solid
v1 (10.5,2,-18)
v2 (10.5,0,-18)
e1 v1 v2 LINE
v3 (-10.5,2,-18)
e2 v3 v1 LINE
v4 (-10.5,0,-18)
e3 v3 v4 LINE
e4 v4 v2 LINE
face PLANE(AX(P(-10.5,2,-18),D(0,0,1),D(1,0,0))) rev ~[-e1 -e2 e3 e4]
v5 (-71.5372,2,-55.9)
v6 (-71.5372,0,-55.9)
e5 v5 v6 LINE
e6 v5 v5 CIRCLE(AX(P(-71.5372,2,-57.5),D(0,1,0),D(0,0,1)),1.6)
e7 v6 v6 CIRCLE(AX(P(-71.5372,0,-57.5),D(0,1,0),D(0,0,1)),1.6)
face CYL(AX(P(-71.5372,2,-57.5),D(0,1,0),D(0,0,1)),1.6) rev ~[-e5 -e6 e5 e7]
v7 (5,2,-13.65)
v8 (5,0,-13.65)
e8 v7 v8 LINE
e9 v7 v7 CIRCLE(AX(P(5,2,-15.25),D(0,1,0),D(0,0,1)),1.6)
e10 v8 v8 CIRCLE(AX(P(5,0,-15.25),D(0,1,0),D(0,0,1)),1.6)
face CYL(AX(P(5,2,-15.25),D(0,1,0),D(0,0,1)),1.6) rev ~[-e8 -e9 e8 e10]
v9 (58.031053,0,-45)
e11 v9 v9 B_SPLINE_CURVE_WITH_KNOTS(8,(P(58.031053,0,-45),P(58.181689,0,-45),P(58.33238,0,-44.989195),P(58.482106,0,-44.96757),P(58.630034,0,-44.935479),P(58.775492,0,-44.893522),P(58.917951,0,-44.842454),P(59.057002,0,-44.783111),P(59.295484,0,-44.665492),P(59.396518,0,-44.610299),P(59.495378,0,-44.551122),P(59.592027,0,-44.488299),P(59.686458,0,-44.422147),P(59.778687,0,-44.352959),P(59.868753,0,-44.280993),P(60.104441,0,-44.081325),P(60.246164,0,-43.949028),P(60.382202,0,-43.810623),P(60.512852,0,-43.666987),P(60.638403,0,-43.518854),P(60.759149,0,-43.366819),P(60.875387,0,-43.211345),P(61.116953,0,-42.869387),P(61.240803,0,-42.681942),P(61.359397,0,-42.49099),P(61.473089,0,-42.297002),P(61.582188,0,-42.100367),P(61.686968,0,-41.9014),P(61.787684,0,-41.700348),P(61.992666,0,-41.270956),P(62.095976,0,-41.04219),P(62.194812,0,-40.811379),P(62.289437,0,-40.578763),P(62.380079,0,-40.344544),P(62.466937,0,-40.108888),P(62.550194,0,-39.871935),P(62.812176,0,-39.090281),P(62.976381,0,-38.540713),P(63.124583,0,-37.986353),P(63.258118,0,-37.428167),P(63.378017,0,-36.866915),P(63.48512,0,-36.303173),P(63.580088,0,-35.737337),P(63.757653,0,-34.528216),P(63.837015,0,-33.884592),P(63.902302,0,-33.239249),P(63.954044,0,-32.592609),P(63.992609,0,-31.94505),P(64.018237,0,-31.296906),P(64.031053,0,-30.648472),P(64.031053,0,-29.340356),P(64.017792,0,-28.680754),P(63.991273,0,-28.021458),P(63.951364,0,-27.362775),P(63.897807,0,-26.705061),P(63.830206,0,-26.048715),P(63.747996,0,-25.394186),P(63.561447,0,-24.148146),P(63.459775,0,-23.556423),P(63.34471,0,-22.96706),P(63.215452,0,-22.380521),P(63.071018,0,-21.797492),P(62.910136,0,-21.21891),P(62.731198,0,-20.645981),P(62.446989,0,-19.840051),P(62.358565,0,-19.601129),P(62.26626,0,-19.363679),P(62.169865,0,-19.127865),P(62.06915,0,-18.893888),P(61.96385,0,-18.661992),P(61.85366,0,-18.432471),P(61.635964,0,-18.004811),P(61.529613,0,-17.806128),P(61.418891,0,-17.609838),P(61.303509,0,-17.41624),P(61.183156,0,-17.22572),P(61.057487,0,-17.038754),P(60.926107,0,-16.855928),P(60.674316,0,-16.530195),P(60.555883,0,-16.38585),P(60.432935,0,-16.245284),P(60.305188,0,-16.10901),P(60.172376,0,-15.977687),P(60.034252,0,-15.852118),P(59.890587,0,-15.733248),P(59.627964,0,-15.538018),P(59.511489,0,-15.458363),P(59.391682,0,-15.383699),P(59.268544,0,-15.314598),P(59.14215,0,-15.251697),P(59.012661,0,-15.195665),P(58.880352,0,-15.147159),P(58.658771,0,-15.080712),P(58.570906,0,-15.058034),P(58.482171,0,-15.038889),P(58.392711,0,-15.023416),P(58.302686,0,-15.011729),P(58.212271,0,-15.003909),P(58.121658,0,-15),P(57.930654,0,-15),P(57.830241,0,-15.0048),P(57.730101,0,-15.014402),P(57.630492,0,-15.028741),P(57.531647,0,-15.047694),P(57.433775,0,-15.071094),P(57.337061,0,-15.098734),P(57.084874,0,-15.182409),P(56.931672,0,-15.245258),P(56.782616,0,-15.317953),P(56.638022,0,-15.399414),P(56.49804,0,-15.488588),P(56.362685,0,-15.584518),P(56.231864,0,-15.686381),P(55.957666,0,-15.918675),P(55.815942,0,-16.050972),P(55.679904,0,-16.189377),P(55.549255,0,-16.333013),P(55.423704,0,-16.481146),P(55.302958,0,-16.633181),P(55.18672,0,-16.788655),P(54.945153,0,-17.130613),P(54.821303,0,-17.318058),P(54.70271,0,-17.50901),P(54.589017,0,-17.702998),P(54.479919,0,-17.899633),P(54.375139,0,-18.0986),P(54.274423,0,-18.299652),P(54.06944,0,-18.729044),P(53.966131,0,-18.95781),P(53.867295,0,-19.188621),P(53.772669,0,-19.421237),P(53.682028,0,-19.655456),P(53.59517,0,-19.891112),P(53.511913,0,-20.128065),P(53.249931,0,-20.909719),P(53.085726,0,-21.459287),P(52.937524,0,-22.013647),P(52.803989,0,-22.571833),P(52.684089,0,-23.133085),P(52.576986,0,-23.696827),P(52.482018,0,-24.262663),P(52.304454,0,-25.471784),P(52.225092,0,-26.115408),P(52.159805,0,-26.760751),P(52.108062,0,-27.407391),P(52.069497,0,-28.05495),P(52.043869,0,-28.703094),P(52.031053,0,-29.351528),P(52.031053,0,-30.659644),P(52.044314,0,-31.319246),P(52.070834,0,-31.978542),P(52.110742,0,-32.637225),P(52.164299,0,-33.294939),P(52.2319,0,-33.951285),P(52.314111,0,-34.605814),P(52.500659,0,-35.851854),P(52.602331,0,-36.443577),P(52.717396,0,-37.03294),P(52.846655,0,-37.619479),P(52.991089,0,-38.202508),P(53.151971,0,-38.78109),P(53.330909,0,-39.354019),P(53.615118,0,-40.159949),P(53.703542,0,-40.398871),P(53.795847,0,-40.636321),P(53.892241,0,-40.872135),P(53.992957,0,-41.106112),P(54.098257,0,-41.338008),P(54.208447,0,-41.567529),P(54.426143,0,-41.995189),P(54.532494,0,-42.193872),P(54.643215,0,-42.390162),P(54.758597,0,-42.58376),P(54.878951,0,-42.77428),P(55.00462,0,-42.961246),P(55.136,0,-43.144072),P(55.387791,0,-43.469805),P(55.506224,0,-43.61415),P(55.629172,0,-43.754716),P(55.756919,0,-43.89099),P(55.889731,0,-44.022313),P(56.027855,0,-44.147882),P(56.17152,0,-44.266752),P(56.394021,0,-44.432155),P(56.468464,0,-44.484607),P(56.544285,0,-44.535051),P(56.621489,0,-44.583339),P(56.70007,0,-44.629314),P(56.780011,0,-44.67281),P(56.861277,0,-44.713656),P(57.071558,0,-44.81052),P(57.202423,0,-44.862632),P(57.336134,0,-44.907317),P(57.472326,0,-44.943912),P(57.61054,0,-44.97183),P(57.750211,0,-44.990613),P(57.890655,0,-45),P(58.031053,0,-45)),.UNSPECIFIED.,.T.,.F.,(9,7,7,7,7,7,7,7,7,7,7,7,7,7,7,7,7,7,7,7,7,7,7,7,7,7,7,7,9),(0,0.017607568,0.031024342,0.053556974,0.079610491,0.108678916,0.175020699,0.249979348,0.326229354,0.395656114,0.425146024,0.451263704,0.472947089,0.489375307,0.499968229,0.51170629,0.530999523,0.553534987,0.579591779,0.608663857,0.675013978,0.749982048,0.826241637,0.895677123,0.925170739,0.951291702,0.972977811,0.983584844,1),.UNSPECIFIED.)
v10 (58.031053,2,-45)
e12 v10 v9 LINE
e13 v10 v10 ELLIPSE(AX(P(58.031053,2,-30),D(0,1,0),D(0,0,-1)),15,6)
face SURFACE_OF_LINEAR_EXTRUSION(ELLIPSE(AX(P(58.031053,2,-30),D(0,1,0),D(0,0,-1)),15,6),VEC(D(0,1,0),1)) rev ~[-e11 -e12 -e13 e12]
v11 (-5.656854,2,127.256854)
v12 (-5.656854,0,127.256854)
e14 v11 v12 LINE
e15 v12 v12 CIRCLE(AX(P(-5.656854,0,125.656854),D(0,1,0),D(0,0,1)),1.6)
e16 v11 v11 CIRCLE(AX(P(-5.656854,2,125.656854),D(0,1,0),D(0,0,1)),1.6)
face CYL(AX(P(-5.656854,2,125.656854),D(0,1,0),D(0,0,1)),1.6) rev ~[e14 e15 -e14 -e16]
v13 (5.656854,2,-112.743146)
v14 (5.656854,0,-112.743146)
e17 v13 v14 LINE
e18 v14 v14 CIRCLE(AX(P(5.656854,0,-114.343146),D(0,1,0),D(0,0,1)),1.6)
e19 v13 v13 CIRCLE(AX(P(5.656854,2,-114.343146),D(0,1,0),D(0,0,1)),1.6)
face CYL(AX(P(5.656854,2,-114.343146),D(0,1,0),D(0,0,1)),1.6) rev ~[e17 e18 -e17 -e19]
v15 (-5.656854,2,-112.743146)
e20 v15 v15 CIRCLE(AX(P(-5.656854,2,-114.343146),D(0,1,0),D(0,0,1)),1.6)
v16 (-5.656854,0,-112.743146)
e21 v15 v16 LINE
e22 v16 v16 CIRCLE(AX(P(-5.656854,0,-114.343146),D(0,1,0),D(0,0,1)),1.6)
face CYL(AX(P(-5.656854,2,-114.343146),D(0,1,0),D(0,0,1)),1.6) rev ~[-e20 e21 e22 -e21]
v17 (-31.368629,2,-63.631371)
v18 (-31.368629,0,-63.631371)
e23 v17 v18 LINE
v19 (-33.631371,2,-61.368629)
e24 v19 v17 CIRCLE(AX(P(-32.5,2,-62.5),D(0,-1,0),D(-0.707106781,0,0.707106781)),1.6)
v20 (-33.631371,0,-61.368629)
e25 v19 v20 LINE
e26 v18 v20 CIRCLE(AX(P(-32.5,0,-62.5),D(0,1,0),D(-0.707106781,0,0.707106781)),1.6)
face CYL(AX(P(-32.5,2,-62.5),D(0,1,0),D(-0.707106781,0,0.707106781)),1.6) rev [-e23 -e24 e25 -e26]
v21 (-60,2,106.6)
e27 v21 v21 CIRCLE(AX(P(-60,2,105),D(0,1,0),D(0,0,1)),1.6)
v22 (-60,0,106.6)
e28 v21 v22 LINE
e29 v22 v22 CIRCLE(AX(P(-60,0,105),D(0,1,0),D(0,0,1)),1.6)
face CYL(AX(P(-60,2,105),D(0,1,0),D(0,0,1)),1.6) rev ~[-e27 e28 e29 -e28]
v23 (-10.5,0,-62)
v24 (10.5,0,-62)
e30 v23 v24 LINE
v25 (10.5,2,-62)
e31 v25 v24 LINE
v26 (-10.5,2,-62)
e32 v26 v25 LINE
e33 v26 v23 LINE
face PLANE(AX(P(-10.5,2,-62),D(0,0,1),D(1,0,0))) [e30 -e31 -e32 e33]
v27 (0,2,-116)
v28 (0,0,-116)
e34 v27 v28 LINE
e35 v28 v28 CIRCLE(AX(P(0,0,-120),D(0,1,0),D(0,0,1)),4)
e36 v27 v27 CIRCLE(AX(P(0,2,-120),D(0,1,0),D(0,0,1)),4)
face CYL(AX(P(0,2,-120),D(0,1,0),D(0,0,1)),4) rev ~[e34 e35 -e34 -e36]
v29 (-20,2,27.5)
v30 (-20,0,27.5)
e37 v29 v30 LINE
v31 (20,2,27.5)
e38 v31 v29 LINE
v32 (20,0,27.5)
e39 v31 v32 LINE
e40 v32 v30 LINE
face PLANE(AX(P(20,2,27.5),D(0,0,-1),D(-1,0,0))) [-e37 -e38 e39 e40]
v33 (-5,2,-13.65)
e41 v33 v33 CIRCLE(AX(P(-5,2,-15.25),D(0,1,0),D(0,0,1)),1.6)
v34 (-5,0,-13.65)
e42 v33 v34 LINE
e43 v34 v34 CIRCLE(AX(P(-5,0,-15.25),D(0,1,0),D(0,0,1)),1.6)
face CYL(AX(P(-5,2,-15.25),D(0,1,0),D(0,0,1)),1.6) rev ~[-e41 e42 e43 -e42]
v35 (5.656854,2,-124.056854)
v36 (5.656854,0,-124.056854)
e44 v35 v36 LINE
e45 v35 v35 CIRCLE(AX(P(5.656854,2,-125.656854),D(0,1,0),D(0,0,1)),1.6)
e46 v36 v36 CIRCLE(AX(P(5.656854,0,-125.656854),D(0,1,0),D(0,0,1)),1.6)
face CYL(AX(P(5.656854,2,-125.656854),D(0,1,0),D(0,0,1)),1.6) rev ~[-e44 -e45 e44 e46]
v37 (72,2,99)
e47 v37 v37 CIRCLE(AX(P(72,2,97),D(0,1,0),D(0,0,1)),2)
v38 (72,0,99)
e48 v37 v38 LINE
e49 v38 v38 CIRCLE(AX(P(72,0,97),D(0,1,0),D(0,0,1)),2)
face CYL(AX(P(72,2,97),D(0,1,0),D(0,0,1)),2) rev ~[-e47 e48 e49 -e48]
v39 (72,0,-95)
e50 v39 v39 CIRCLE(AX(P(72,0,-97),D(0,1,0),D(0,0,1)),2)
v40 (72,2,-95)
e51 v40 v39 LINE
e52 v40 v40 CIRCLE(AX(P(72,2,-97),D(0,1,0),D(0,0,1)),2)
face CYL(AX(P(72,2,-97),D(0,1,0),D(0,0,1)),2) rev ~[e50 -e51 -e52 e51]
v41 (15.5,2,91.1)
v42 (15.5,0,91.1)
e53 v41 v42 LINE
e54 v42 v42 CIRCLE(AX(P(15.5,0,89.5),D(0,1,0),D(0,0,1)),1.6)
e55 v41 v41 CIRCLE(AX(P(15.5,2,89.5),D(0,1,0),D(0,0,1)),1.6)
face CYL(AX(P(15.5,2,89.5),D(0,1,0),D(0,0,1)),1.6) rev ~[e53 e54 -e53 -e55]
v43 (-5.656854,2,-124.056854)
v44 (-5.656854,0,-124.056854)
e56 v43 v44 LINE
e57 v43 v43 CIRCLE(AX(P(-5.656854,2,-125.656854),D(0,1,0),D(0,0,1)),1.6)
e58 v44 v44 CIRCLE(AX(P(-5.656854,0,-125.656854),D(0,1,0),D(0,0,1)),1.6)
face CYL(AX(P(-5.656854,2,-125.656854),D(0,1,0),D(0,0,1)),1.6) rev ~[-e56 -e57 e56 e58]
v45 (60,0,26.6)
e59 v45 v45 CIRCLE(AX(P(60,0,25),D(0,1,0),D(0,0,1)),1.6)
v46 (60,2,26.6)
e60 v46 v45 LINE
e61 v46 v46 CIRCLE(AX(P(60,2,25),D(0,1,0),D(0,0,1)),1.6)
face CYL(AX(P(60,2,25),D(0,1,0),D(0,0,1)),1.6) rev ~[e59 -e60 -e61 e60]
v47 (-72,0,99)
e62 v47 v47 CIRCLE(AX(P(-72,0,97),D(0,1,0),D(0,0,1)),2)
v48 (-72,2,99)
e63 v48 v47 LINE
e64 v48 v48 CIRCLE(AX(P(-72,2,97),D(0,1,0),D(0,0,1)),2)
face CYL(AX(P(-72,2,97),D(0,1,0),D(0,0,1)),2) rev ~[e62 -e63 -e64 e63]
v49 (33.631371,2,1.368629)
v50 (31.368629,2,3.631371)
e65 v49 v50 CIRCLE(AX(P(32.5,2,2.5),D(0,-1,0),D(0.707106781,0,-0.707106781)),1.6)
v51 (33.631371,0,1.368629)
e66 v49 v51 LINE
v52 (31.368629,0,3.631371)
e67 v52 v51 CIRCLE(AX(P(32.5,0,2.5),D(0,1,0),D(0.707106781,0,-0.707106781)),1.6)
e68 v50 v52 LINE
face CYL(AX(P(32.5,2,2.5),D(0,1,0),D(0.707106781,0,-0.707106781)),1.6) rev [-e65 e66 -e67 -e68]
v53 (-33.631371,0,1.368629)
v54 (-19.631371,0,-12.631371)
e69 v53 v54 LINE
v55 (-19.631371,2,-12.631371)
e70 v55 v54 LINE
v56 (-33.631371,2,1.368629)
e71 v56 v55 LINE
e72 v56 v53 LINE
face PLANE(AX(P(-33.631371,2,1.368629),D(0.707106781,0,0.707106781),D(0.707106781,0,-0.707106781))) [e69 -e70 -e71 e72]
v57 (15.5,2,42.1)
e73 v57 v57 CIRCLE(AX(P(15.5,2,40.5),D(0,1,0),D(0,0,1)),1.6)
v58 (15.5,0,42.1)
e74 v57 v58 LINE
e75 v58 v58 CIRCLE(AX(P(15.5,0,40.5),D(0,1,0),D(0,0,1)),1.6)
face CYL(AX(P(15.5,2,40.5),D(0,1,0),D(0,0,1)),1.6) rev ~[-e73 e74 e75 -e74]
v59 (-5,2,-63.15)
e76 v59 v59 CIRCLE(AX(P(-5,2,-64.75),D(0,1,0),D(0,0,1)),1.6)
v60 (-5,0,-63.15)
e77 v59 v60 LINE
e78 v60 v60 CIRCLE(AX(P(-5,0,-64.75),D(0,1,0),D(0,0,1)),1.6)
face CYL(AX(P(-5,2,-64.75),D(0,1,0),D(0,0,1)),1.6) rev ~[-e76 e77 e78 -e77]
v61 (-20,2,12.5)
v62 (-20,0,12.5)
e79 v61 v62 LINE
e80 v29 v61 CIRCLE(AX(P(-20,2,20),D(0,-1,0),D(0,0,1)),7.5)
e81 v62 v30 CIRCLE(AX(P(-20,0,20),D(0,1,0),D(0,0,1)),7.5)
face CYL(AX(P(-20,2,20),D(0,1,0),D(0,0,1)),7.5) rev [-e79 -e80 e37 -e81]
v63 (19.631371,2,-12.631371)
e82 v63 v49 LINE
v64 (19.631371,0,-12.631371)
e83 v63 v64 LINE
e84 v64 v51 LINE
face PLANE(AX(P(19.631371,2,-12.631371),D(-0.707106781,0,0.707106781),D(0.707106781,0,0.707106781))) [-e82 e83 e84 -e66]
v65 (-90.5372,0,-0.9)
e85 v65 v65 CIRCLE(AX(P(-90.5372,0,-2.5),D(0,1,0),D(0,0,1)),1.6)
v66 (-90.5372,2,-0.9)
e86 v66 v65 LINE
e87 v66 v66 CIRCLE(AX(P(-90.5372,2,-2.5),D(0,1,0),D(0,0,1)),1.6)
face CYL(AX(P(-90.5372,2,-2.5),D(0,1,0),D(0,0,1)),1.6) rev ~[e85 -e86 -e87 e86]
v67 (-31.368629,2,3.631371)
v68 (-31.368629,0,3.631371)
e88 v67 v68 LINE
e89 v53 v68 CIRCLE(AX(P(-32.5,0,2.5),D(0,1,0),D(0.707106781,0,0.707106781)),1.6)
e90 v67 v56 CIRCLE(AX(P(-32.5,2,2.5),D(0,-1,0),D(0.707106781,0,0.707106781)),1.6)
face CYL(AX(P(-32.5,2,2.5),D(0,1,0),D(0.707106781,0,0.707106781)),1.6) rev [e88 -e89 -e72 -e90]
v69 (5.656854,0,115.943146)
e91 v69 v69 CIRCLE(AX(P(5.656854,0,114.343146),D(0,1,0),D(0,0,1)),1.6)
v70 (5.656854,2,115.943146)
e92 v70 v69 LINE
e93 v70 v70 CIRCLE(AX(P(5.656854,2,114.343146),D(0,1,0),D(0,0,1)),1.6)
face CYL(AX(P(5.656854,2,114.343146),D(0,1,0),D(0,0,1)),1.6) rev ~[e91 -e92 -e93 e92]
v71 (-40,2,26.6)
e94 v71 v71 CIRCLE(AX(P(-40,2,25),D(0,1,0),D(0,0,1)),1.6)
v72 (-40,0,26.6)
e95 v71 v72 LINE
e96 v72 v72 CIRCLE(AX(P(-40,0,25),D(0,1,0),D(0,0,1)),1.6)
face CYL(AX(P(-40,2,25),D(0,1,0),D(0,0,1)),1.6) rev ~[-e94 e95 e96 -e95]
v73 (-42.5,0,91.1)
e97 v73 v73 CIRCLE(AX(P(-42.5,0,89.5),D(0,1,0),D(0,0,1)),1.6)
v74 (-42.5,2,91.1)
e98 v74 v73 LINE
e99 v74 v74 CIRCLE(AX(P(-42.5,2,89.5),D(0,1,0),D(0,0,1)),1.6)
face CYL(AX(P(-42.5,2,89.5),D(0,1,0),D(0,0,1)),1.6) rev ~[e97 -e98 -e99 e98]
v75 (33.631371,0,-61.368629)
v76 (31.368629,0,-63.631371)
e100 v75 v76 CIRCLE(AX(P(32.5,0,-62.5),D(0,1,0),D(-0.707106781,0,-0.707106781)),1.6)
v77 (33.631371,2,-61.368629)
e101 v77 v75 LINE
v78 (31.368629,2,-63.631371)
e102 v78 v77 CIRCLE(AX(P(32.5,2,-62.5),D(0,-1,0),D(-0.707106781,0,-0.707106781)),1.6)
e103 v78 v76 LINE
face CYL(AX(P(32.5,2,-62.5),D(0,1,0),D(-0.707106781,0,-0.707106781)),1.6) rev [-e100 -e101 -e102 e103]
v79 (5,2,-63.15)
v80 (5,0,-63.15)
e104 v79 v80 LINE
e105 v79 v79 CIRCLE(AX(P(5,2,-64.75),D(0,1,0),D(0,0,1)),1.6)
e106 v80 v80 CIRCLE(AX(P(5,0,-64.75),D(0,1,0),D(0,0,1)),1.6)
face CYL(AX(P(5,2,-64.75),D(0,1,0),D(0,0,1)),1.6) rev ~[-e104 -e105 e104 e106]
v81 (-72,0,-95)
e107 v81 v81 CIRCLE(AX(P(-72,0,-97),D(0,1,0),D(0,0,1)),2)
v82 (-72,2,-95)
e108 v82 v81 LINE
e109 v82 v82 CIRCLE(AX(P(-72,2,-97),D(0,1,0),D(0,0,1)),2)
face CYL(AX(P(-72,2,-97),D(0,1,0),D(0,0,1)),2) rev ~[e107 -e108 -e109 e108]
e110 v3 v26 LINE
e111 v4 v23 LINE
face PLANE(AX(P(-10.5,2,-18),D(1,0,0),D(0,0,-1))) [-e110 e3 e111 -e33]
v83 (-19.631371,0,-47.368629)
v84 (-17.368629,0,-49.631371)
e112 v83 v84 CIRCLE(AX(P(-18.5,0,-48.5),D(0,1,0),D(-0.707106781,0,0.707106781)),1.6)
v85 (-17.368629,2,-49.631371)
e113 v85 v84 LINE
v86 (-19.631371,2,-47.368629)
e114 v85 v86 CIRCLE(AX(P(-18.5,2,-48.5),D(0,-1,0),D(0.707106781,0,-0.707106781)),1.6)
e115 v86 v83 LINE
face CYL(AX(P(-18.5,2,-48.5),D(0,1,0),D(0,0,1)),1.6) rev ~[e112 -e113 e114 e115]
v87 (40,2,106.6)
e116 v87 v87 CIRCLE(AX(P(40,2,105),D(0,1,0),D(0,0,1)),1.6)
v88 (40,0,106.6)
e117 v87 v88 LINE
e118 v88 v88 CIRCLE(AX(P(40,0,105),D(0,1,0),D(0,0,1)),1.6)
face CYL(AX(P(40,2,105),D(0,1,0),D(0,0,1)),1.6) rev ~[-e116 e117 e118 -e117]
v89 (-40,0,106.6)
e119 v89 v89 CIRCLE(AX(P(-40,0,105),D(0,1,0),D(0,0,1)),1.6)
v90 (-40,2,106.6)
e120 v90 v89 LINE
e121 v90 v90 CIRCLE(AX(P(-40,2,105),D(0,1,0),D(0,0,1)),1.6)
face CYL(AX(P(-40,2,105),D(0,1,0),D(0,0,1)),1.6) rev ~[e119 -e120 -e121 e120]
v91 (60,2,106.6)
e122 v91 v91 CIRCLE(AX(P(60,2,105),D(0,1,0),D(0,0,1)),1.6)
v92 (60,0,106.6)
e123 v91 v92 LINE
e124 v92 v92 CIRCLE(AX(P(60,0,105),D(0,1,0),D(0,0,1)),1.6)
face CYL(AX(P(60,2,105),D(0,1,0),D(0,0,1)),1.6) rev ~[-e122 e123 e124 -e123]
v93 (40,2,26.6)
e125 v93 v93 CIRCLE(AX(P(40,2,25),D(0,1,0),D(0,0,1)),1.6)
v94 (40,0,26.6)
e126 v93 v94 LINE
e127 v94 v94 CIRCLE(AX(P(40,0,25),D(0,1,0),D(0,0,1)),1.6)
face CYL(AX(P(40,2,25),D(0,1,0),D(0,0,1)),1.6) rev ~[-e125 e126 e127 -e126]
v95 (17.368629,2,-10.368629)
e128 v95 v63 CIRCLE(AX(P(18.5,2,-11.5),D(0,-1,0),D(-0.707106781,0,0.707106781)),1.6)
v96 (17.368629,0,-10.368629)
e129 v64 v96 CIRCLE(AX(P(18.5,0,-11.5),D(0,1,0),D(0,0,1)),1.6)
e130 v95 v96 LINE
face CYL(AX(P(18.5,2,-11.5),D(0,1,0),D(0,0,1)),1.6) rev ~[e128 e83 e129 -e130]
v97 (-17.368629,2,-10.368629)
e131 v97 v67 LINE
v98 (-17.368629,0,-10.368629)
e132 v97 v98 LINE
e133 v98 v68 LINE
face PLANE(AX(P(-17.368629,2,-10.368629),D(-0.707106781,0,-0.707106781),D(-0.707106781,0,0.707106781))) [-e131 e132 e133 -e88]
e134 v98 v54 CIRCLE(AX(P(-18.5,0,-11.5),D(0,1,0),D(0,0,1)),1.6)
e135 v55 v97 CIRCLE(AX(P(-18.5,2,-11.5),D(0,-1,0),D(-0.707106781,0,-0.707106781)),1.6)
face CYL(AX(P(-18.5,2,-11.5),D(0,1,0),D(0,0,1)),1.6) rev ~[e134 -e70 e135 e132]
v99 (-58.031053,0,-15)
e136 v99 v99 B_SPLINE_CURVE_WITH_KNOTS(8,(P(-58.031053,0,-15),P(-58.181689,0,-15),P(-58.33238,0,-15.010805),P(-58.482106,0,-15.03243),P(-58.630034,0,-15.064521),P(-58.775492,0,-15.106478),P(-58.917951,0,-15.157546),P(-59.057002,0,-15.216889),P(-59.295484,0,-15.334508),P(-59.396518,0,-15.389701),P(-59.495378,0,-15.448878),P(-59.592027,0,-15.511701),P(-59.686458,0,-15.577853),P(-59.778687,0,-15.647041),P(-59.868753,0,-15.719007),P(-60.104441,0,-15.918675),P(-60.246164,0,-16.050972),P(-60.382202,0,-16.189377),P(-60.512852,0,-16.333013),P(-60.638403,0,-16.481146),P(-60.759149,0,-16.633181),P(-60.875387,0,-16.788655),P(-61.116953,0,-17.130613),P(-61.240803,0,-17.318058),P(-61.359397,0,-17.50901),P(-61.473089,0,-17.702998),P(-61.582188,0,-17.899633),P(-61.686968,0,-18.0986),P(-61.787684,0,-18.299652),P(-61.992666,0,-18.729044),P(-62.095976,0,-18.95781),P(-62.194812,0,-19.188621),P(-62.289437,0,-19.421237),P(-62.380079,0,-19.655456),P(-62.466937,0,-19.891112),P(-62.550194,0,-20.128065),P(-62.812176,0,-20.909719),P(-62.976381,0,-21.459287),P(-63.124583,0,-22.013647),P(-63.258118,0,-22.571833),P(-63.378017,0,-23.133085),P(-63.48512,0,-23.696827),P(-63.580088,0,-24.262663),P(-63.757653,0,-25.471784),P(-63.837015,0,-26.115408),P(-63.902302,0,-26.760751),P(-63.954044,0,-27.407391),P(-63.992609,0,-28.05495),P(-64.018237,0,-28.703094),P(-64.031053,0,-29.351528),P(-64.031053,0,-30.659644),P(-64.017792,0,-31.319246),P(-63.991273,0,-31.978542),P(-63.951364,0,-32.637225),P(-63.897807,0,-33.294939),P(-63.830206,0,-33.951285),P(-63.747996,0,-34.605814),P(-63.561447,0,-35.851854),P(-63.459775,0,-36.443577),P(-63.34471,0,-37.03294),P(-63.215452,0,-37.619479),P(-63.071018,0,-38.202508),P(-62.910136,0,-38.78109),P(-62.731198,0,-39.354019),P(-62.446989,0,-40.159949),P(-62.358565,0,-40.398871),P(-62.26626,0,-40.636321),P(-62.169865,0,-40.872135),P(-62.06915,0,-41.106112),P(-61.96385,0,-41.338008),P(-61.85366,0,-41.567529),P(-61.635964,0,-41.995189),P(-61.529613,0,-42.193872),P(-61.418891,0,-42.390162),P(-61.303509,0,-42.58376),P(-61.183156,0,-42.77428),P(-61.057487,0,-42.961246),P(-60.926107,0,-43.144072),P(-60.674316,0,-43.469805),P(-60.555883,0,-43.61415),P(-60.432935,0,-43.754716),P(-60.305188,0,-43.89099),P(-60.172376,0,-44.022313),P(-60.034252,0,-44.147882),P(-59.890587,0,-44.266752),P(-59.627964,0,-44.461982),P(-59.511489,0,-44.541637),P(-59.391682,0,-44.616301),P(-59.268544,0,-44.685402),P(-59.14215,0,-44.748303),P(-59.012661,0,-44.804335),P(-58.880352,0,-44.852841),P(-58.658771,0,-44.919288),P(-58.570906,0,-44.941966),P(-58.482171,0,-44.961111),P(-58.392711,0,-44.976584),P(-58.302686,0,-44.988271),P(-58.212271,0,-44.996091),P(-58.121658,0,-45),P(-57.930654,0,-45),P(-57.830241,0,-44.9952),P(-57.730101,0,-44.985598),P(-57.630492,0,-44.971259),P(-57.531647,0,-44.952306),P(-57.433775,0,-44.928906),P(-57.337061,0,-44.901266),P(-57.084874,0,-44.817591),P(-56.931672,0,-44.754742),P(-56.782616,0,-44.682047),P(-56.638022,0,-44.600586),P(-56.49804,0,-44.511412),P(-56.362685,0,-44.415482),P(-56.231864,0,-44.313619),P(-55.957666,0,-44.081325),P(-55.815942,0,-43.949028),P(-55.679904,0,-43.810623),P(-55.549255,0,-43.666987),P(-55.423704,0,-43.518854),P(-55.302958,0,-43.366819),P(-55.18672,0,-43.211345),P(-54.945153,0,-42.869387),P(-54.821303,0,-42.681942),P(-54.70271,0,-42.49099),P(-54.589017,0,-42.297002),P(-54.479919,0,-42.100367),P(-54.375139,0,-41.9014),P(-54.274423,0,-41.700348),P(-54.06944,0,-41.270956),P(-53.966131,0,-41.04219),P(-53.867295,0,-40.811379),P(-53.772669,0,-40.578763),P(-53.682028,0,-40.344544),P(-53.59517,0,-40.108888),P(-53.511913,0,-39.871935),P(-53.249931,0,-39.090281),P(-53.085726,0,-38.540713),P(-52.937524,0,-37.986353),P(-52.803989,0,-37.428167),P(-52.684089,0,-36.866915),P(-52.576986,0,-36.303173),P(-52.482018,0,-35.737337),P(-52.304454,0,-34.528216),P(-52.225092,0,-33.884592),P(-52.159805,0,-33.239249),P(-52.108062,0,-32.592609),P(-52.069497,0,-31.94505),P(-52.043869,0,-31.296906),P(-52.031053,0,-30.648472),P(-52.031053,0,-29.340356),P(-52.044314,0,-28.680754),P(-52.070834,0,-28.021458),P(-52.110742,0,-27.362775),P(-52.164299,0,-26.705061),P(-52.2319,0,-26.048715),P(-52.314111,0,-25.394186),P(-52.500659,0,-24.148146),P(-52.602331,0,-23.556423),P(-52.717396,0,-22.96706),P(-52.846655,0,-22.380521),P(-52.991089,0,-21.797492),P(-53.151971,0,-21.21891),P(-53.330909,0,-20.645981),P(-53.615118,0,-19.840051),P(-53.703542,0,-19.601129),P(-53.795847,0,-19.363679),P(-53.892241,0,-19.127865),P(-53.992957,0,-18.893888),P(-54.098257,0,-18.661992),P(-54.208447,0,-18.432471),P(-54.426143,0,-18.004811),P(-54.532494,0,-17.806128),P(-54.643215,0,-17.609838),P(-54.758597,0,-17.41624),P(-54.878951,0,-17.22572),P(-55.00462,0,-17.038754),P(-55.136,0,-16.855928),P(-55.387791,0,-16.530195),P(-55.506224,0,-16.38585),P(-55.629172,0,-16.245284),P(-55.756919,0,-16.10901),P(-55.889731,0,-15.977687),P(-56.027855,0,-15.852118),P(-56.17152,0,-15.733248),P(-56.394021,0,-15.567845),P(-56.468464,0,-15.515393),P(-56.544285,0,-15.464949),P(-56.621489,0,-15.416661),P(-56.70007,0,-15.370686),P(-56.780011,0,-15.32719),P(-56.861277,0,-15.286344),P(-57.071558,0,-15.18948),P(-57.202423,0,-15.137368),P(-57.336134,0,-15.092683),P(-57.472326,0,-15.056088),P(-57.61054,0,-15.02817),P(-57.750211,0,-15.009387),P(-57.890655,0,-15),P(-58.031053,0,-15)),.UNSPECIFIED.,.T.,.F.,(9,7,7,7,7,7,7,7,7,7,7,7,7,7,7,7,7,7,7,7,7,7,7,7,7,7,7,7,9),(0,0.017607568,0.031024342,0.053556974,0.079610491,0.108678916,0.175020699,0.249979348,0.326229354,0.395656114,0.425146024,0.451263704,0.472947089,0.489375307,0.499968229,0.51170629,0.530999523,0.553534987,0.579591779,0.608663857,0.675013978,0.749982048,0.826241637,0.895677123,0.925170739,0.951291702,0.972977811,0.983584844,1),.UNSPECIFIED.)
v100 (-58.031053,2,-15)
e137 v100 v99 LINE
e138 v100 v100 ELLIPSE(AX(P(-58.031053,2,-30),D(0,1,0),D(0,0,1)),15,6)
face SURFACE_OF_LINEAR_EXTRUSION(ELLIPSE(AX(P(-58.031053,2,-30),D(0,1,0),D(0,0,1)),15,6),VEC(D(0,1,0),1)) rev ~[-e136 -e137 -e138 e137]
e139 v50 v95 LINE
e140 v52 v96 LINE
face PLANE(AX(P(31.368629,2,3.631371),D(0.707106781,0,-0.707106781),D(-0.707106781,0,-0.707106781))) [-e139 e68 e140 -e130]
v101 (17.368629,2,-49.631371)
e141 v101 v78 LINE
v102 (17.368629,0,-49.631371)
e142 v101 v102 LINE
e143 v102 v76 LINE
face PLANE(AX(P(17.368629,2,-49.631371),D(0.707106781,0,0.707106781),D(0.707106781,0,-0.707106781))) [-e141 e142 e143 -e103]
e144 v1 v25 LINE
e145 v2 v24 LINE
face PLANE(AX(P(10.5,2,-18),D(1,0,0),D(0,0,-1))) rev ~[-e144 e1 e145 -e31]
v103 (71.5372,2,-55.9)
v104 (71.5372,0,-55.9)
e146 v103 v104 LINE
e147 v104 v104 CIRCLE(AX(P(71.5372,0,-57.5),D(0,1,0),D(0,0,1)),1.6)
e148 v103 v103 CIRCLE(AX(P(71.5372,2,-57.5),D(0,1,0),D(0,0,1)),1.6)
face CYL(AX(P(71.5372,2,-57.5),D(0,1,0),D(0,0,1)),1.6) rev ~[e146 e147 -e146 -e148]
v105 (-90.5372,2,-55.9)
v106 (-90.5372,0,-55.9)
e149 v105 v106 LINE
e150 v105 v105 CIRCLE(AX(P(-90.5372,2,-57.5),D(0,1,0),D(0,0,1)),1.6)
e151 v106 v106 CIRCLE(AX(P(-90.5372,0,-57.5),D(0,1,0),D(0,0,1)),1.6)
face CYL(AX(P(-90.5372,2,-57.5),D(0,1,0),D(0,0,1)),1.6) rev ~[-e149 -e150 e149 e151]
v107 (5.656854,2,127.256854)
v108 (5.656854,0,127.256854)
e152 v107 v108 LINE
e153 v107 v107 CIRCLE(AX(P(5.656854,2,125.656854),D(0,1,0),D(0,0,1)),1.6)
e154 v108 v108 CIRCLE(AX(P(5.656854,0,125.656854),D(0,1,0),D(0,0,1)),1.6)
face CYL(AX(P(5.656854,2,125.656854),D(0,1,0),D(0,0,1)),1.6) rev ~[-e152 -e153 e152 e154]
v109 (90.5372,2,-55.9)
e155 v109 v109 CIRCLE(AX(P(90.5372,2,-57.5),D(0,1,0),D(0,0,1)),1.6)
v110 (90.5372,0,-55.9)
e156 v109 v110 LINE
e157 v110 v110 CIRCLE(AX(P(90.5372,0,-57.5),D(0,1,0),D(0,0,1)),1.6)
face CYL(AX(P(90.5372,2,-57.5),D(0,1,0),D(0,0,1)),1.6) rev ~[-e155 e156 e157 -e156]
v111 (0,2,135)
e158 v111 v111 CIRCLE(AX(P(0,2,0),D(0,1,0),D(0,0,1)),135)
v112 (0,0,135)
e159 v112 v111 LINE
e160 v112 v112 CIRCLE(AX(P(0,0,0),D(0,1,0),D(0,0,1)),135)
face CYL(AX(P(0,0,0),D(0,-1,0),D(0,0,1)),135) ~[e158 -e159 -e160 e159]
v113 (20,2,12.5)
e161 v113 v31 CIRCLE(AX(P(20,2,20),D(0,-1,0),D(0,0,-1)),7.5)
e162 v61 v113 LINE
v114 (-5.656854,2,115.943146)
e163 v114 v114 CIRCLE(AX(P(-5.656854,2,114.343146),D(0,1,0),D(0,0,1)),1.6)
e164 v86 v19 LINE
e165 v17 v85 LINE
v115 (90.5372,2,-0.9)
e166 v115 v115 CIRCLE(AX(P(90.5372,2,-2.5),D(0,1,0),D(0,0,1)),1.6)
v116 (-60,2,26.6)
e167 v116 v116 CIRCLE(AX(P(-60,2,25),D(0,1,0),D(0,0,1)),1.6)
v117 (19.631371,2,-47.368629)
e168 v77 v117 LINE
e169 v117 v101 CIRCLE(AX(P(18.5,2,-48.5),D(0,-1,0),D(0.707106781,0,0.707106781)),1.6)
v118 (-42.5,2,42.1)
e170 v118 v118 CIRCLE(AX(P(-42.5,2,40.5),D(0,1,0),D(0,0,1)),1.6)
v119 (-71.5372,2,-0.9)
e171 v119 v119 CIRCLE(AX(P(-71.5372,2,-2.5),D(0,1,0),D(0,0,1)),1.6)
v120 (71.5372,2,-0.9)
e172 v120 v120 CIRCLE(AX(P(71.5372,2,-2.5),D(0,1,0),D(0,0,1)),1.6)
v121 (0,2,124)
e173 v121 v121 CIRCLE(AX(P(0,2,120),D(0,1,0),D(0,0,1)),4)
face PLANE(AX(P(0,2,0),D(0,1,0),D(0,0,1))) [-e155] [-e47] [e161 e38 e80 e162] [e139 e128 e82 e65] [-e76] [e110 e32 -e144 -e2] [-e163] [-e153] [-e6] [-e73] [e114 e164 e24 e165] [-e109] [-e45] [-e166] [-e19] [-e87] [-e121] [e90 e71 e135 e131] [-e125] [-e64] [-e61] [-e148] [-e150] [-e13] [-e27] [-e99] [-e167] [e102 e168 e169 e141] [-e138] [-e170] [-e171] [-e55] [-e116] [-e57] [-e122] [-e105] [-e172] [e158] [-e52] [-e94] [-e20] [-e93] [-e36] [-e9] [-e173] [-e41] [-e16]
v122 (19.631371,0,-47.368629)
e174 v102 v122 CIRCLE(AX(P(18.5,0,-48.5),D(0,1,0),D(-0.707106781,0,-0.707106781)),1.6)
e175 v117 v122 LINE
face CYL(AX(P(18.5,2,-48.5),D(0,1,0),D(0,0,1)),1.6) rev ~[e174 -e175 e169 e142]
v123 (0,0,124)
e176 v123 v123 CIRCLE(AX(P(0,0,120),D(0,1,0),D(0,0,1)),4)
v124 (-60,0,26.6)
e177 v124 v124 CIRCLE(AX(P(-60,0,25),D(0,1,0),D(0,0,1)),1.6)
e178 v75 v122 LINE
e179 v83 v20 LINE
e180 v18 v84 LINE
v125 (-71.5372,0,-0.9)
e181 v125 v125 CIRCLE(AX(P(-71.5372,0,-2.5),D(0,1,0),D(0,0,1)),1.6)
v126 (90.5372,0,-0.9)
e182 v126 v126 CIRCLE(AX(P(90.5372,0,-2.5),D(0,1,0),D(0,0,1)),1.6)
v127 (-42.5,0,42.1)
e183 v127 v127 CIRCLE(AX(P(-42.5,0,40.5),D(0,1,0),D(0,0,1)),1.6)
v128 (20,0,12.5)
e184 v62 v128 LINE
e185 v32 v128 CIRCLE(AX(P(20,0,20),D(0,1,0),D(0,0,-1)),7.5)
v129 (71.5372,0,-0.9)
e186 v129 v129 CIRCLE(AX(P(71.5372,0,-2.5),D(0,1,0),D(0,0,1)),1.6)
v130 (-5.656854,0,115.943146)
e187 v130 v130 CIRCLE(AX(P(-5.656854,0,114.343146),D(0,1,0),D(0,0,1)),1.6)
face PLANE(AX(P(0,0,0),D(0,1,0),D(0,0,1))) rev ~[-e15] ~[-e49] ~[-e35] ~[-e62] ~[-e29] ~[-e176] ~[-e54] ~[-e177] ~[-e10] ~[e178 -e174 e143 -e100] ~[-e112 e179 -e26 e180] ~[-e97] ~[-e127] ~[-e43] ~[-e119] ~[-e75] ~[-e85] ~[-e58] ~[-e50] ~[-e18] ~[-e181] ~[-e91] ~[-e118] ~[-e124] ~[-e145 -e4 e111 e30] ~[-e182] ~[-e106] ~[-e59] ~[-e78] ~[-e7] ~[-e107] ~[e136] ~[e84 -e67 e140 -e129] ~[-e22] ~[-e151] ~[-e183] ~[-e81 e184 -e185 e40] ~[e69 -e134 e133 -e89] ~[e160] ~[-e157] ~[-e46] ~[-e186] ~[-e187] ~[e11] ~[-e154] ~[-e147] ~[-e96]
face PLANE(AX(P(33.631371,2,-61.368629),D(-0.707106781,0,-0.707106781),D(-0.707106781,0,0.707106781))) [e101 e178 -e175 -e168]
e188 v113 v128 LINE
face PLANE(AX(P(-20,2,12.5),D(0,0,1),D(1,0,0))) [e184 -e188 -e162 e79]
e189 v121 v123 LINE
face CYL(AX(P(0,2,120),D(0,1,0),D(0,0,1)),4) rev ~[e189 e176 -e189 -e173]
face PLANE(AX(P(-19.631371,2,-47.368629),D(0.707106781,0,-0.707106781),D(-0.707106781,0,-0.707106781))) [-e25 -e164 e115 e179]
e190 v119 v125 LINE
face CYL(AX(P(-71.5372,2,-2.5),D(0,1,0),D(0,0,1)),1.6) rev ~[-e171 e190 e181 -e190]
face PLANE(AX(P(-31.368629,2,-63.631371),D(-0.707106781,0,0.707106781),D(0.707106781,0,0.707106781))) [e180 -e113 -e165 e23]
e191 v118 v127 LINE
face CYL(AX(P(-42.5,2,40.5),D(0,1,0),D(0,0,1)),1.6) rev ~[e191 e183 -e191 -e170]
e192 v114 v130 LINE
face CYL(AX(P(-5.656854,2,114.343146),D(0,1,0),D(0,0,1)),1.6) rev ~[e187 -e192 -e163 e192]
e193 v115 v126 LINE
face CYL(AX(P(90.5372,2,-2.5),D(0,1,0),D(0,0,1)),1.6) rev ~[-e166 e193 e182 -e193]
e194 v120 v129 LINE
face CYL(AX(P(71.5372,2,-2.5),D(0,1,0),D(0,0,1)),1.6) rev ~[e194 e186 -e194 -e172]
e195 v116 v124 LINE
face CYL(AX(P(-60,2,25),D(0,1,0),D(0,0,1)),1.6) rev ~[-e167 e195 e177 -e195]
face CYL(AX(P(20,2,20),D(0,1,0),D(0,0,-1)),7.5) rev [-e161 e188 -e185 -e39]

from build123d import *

# Parameters (mm, degrees)
SKETCH_1_R          = 135
EXTRUDE_1_DEPTH     = 2
SKETCH_562_R        = 1.6
SKETCH_562_W        = 21
SKETCH_562_H        = 44
CUT_EXTRUDE_1_DEPTH = 10
SKETCH_1031_R       = 1.6
CUT_EXTRUDE_2_DEPTH = 10
SKETCH_4_R          = 2
SKETCH_4_R_2        = 4
SKETCH_4_R_3        = 1.6
CUT_EXTRUDE_3_DEPTH = 10
CUT_EXTRUDE_4_DEPTH = 10
SKETCH_6_R          = 1.6
SKETCH_6_RX         = 15
SKETCH_6_RY         = 6
CUT_EXTRUDE_7_DEPTH = 10


with BuildPart() as part:
    # 草图1 → 凸台-拉伸1 (new body)
    with BuildSketch(Plane(origin=(0, 0, 0), x_dir=(1, 0, 0), z_dir=(0, 1, 0))):
        with Locations(Location((0, 0, 0), (0, 0, 270))):
            Circle(SKETCH_1_R)
    extrude(amount=EXTRUDE_1_DEPTH)

    # Sketch 562 → 切除-拉伸1 (cut)
    with BuildSketch(Plane(origin=(0, 2, 0), x_dir=(1, 0, 0), z_dir=(0, 1, 0))):
        with Locations(Location((-5, 64.75, 0), (0, 0, 270))):
            Circle(SKETCH_562_R)
        with Locations(Location((5, 64.75, 0), (0, 0, 270))):
            Circle(SKETCH_562_R)
        with Locations(Location((-5, 15.25, 0), (0, 0, 270))):
            Circle(SKETCH_562_R)
        with Locations(Location((5, 15.25, 0), (0, 0, 270))):
            Circle(SKETCH_562_R)
        with Locations(Location((18.5, 48.5, 0), (0, 0, 270))):
            Circle(SKETCH_562_R)
        with Locations(Location((18.5, 11.5, 0), (0, 0, 270))):
            Circle(SKETCH_562_R)
        with Locations(Location((-18.5, 11.5, 0), (0, 0, 270))):
            Circle(SKETCH_562_R)
        with Locations(Location((-18.5, 48.5, 0), (0, 0, 270))):
            Circle(SKETCH_562_R)
        with Locations((0, 40)):
            Rectangle(SKETCH_562_W, SKETCH_562_H)
    extrude(amount=-CUT_EXTRUDE_1_DEPTH, mode=Mode.SUBTRACT)

    # Sketch 1031 → 切除-拉伸2 (cut)
    with BuildSketch(Plane(origin=(0, 2, 0), x_dir=(1, 0, 0), z_dir=(0, 1, 0))):
        with Locations(Location((-60, -25, 0), (0, 0, 270))):
            Circle(SKETCH_1031_R)
        with Locations(Location((-40, -25, 0), (0, 0, 270))):
            Circle(SKETCH_1031_R)
        with Locations(Location((40, -25, 0), (0, 0, 270))):
            Circle(SKETCH_1031_R)
        with Locations(Location((60, -25, 0), (0, 0, 270))):
            Circle(SKETCH_1031_R)
        with Locations(Location((60, -105, 0), (0, 0, 270))):
            Circle(SKETCH_1031_R)
        with Locations(Location((40, -105, 0), (0, 0, 270))):
            Circle(SKETCH_1031_R)
        with Locations(Location((-40, -105, 0), (0, 0, 270))):
            Circle(SKETCH_1031_R)
        with Locations(Location((-60, -105, 0), (0, 0, 270))):
            Circle(SKETCH_1031_R)
        with Locations(Location((-42.5, -89.5, 0), (0, 0, 270))):
            Circle(SKETCH_1031_R)
        with Locations(Location((-42.5, -40.5, 0), (0, 0, 270))):
            Circle(SKETCH_1031_R)
        with Locations(Location((15.5, -40.5, 0), (0, 0, 270))):
            Circle(SKETCH_1031_R)
        with Locations(Location((15.5, -89.5, 0), (0, 0, 270))):
            Circle(SKETCH_1031_R)
    extrude(amount=-CUT_EXTRUDE_2_DEPTH, mode=Mode.SUBTRACT)

    # 草图4 → 切除-拉伸3 (cut)
    with BuildSketch(Plane(origin=(0, 2, 0), x_dir=(1, 0, 0), z_dir=(0, 1, 0))):
        with Locations(Location((-72, 97, 0), (0, 0, 270))):
            Circle(SKETCH_4_R)
        with Locations(Location((72, 97, 0), (0, 0, 270))):
            Circle(SKETCH_4_R)
        with Locations(Location((72, -97, 0), (0, 0, 270))):
            Circle(SKETCH_4_R)
        with Locations(Location((-72, -97, 0), (0, 0, 270))):
            Circle(SKETCH_4_R)
        with Locations(Location((0, -120, 0), (0, 0, 270))):
            Circle(SKETCH_4_R_2)
        with Locations(Location((-5.656854249, -125.656854249, 0), (0, 0, 270))):
            Circle(SKETCH_4_R_3)
        with Locations(Location((-5.656854249, -114.343145751, 0), (0, 0, 270))):
            Circle(SKETCH_4_R_3)
        with Locations(Location((5.656854249, -114.343145751, 0), (0, 0, 270))):
            Circle(SKETCH_4_R_3)
        with Locations(Location((5.656854249, -125.656854249, 0), (0, 0, 270))):
            Circle(SKETCH_4_R_3)
        with Locations(Location((5.656854249, 125.656854249, 0), (0, 0, 270))):
            Circle(SKETCH_4_R_3)
        with Locations(Location((5.656854249, 114.343145751, 0), (0, 0, 270))):
            Circle(SKETCH_4_R_3)
        with Locations(Location((-5.656854249, 114.343145751, 0), (0, 0, 270))):
            Circle(SKETCH_4_R_3)
        with Locations(Location((-5.656854249, 125.656854249, 0), (0, 0, 270))):
            Circle(SKETCH_4_R_3)
        with Locations(Location((0, 120, 0), (0, 0, 270))):
            Circle(SKETCH_4_R_2)
        with BuildLine():
            Line((-20, -12.5), (20, -12.5))
            ThreePointArc((20, -12.5), (27.5, -20), (20, -27.5))
            Line((20, -27.5), (-20, -27.5))
            ThreePointArc((-20, -27.5), (-27.5, -20), (-20, -12.5))
        make_face()
    extrude(amount=-CUT_EXTRUDE_3_DEPTH, mode=Mode.SUBTRACT)

    # 草图5 → 切除-拉伸4 (cut)
    with BuildSketch(Plane(origin=(0, 2, 0), x_dir=(1, 0, 0), z_dir=(0, 1, 0))):
        with BuildLine():
            Line((-31.36862915, 63.63137085), (-17.36862915, 49.63137085))
            ThreePointArc((-17.36862915, 49.63137085), (-17.36862915, 47.36862915), (-19.63137085, 47.36862915))
            Line((-19.63137085, 47.36862915), (-33.63137085, 61.36862915))
            ThreePointArc((-33.63137085, 61.36862915), (-33.63137085, 63.63137085), (-31.36862915, 63.63137085))
        make_face()
        with BuildLine():
            Line((33.63137085, 61.36862915), (19.63137085, 47.36862915))
            ThreePointArc((19.63137085, 47.36862915), (17.36862915, 47.36862915), (17.36862915, 49.63137085))
            Line((17.36862915, 49.63137085), (31.36862915, 63.63137085))
            ThreePointArc((31.36862915, 63.63137085), (33.63137085, 63.63137085), (33.63137085, 61.36862915))
        make_face()
        with BuildLine():
            Line((31.36862915, -3.63137085), (17.36862915, 10.36862915))
            ThreePointArc((17.36862915, 10.36862915), (17.36862915, 12.63137085), (19.63137085, 12.63137085))
            Line((19.63137085, 12.63137085), (33.63137085, -1.36862915))
            ThreePointArc((33.63137085, -1.36862915), (33.63137085, -3.63137085), (31.36862915, -3.63137085))
        make_face()
        with BuildLine():
            Line((-33.63137085, -1.36862915), (-19.63137085, 12.63137085))
            ThreePointArc((-19.63137085, 12.63137085), (-17.36862915, 12.63137085), (-17.36862915, 10.36862915))
            Line((-17.36862915, 10.36862915), (-31.36862915, -3.63137085))
            ThreePointArc((-31.36862915, -3.63137085), (-33.63137085, -3.63137085), (-33.63137085, -1.36862915))
        make_face()
    extrude(amount=-CUT_EXTRUDE_4_DEPTH, mode=Mode.SUBTRACT)

    # 草图6 → 切除-拉伸7 (cut)
    with BuildSketch(Plane(origin=(0, 2, 0), x_dir=(1, 0, 0), z_dir=(0, 1, 0))):
        with Locations(Location((71.537199543, 2.5, 0), (0, 0, 270))):
            Circle(SKETCH_6_R)
        with Locations(Location((90.537199543, 2.5, 0), (0, 0, 270))):
            Circle(SKETCH_6_R)
        with Locations(Location((90.537199543, 57.5, 0), (0, 0, 270))):
            Circle(SKETCH_6_R)
        with Locations(Location((71.537199543, 57.5, 0), (0, 0, 270))):
            Circle(SKETCH_6_R)
        with Locations(Location((-71.537199543, 57.5, 0), (0, 0, 270))):
            Circle(SKETCH_6_R)
        with Locations(Location((-90.537199543, 2.5, 0), (0, 0, 270))):
            Circle(SKETCH_6_R)
        with Locations(Location((-71.537199543, 2.5, 0), (0, 0, 270))):
            Circle(SKETCH_6_R)
        with Locations(Location((-90.537199543, 57.5, 0), (0, 0, 270))):
            Circle(SKETCH_6_R)
        with Locations(Location((-58.031053316, 30), (0, 0, -90))):
            Ellipse(SKETCH_6_RX, SKETCH_6_RY)
        with Locations(Location((58.031053316, 30), (0, 0, 90))):
            Ellipse(SKETCH_6_RX, SKETCH_6_RY)
    extrude(amount=-CUT_EXTRUDE_7_DEPTH, mode=Mode.SUBTRACT)


solid = part.part
